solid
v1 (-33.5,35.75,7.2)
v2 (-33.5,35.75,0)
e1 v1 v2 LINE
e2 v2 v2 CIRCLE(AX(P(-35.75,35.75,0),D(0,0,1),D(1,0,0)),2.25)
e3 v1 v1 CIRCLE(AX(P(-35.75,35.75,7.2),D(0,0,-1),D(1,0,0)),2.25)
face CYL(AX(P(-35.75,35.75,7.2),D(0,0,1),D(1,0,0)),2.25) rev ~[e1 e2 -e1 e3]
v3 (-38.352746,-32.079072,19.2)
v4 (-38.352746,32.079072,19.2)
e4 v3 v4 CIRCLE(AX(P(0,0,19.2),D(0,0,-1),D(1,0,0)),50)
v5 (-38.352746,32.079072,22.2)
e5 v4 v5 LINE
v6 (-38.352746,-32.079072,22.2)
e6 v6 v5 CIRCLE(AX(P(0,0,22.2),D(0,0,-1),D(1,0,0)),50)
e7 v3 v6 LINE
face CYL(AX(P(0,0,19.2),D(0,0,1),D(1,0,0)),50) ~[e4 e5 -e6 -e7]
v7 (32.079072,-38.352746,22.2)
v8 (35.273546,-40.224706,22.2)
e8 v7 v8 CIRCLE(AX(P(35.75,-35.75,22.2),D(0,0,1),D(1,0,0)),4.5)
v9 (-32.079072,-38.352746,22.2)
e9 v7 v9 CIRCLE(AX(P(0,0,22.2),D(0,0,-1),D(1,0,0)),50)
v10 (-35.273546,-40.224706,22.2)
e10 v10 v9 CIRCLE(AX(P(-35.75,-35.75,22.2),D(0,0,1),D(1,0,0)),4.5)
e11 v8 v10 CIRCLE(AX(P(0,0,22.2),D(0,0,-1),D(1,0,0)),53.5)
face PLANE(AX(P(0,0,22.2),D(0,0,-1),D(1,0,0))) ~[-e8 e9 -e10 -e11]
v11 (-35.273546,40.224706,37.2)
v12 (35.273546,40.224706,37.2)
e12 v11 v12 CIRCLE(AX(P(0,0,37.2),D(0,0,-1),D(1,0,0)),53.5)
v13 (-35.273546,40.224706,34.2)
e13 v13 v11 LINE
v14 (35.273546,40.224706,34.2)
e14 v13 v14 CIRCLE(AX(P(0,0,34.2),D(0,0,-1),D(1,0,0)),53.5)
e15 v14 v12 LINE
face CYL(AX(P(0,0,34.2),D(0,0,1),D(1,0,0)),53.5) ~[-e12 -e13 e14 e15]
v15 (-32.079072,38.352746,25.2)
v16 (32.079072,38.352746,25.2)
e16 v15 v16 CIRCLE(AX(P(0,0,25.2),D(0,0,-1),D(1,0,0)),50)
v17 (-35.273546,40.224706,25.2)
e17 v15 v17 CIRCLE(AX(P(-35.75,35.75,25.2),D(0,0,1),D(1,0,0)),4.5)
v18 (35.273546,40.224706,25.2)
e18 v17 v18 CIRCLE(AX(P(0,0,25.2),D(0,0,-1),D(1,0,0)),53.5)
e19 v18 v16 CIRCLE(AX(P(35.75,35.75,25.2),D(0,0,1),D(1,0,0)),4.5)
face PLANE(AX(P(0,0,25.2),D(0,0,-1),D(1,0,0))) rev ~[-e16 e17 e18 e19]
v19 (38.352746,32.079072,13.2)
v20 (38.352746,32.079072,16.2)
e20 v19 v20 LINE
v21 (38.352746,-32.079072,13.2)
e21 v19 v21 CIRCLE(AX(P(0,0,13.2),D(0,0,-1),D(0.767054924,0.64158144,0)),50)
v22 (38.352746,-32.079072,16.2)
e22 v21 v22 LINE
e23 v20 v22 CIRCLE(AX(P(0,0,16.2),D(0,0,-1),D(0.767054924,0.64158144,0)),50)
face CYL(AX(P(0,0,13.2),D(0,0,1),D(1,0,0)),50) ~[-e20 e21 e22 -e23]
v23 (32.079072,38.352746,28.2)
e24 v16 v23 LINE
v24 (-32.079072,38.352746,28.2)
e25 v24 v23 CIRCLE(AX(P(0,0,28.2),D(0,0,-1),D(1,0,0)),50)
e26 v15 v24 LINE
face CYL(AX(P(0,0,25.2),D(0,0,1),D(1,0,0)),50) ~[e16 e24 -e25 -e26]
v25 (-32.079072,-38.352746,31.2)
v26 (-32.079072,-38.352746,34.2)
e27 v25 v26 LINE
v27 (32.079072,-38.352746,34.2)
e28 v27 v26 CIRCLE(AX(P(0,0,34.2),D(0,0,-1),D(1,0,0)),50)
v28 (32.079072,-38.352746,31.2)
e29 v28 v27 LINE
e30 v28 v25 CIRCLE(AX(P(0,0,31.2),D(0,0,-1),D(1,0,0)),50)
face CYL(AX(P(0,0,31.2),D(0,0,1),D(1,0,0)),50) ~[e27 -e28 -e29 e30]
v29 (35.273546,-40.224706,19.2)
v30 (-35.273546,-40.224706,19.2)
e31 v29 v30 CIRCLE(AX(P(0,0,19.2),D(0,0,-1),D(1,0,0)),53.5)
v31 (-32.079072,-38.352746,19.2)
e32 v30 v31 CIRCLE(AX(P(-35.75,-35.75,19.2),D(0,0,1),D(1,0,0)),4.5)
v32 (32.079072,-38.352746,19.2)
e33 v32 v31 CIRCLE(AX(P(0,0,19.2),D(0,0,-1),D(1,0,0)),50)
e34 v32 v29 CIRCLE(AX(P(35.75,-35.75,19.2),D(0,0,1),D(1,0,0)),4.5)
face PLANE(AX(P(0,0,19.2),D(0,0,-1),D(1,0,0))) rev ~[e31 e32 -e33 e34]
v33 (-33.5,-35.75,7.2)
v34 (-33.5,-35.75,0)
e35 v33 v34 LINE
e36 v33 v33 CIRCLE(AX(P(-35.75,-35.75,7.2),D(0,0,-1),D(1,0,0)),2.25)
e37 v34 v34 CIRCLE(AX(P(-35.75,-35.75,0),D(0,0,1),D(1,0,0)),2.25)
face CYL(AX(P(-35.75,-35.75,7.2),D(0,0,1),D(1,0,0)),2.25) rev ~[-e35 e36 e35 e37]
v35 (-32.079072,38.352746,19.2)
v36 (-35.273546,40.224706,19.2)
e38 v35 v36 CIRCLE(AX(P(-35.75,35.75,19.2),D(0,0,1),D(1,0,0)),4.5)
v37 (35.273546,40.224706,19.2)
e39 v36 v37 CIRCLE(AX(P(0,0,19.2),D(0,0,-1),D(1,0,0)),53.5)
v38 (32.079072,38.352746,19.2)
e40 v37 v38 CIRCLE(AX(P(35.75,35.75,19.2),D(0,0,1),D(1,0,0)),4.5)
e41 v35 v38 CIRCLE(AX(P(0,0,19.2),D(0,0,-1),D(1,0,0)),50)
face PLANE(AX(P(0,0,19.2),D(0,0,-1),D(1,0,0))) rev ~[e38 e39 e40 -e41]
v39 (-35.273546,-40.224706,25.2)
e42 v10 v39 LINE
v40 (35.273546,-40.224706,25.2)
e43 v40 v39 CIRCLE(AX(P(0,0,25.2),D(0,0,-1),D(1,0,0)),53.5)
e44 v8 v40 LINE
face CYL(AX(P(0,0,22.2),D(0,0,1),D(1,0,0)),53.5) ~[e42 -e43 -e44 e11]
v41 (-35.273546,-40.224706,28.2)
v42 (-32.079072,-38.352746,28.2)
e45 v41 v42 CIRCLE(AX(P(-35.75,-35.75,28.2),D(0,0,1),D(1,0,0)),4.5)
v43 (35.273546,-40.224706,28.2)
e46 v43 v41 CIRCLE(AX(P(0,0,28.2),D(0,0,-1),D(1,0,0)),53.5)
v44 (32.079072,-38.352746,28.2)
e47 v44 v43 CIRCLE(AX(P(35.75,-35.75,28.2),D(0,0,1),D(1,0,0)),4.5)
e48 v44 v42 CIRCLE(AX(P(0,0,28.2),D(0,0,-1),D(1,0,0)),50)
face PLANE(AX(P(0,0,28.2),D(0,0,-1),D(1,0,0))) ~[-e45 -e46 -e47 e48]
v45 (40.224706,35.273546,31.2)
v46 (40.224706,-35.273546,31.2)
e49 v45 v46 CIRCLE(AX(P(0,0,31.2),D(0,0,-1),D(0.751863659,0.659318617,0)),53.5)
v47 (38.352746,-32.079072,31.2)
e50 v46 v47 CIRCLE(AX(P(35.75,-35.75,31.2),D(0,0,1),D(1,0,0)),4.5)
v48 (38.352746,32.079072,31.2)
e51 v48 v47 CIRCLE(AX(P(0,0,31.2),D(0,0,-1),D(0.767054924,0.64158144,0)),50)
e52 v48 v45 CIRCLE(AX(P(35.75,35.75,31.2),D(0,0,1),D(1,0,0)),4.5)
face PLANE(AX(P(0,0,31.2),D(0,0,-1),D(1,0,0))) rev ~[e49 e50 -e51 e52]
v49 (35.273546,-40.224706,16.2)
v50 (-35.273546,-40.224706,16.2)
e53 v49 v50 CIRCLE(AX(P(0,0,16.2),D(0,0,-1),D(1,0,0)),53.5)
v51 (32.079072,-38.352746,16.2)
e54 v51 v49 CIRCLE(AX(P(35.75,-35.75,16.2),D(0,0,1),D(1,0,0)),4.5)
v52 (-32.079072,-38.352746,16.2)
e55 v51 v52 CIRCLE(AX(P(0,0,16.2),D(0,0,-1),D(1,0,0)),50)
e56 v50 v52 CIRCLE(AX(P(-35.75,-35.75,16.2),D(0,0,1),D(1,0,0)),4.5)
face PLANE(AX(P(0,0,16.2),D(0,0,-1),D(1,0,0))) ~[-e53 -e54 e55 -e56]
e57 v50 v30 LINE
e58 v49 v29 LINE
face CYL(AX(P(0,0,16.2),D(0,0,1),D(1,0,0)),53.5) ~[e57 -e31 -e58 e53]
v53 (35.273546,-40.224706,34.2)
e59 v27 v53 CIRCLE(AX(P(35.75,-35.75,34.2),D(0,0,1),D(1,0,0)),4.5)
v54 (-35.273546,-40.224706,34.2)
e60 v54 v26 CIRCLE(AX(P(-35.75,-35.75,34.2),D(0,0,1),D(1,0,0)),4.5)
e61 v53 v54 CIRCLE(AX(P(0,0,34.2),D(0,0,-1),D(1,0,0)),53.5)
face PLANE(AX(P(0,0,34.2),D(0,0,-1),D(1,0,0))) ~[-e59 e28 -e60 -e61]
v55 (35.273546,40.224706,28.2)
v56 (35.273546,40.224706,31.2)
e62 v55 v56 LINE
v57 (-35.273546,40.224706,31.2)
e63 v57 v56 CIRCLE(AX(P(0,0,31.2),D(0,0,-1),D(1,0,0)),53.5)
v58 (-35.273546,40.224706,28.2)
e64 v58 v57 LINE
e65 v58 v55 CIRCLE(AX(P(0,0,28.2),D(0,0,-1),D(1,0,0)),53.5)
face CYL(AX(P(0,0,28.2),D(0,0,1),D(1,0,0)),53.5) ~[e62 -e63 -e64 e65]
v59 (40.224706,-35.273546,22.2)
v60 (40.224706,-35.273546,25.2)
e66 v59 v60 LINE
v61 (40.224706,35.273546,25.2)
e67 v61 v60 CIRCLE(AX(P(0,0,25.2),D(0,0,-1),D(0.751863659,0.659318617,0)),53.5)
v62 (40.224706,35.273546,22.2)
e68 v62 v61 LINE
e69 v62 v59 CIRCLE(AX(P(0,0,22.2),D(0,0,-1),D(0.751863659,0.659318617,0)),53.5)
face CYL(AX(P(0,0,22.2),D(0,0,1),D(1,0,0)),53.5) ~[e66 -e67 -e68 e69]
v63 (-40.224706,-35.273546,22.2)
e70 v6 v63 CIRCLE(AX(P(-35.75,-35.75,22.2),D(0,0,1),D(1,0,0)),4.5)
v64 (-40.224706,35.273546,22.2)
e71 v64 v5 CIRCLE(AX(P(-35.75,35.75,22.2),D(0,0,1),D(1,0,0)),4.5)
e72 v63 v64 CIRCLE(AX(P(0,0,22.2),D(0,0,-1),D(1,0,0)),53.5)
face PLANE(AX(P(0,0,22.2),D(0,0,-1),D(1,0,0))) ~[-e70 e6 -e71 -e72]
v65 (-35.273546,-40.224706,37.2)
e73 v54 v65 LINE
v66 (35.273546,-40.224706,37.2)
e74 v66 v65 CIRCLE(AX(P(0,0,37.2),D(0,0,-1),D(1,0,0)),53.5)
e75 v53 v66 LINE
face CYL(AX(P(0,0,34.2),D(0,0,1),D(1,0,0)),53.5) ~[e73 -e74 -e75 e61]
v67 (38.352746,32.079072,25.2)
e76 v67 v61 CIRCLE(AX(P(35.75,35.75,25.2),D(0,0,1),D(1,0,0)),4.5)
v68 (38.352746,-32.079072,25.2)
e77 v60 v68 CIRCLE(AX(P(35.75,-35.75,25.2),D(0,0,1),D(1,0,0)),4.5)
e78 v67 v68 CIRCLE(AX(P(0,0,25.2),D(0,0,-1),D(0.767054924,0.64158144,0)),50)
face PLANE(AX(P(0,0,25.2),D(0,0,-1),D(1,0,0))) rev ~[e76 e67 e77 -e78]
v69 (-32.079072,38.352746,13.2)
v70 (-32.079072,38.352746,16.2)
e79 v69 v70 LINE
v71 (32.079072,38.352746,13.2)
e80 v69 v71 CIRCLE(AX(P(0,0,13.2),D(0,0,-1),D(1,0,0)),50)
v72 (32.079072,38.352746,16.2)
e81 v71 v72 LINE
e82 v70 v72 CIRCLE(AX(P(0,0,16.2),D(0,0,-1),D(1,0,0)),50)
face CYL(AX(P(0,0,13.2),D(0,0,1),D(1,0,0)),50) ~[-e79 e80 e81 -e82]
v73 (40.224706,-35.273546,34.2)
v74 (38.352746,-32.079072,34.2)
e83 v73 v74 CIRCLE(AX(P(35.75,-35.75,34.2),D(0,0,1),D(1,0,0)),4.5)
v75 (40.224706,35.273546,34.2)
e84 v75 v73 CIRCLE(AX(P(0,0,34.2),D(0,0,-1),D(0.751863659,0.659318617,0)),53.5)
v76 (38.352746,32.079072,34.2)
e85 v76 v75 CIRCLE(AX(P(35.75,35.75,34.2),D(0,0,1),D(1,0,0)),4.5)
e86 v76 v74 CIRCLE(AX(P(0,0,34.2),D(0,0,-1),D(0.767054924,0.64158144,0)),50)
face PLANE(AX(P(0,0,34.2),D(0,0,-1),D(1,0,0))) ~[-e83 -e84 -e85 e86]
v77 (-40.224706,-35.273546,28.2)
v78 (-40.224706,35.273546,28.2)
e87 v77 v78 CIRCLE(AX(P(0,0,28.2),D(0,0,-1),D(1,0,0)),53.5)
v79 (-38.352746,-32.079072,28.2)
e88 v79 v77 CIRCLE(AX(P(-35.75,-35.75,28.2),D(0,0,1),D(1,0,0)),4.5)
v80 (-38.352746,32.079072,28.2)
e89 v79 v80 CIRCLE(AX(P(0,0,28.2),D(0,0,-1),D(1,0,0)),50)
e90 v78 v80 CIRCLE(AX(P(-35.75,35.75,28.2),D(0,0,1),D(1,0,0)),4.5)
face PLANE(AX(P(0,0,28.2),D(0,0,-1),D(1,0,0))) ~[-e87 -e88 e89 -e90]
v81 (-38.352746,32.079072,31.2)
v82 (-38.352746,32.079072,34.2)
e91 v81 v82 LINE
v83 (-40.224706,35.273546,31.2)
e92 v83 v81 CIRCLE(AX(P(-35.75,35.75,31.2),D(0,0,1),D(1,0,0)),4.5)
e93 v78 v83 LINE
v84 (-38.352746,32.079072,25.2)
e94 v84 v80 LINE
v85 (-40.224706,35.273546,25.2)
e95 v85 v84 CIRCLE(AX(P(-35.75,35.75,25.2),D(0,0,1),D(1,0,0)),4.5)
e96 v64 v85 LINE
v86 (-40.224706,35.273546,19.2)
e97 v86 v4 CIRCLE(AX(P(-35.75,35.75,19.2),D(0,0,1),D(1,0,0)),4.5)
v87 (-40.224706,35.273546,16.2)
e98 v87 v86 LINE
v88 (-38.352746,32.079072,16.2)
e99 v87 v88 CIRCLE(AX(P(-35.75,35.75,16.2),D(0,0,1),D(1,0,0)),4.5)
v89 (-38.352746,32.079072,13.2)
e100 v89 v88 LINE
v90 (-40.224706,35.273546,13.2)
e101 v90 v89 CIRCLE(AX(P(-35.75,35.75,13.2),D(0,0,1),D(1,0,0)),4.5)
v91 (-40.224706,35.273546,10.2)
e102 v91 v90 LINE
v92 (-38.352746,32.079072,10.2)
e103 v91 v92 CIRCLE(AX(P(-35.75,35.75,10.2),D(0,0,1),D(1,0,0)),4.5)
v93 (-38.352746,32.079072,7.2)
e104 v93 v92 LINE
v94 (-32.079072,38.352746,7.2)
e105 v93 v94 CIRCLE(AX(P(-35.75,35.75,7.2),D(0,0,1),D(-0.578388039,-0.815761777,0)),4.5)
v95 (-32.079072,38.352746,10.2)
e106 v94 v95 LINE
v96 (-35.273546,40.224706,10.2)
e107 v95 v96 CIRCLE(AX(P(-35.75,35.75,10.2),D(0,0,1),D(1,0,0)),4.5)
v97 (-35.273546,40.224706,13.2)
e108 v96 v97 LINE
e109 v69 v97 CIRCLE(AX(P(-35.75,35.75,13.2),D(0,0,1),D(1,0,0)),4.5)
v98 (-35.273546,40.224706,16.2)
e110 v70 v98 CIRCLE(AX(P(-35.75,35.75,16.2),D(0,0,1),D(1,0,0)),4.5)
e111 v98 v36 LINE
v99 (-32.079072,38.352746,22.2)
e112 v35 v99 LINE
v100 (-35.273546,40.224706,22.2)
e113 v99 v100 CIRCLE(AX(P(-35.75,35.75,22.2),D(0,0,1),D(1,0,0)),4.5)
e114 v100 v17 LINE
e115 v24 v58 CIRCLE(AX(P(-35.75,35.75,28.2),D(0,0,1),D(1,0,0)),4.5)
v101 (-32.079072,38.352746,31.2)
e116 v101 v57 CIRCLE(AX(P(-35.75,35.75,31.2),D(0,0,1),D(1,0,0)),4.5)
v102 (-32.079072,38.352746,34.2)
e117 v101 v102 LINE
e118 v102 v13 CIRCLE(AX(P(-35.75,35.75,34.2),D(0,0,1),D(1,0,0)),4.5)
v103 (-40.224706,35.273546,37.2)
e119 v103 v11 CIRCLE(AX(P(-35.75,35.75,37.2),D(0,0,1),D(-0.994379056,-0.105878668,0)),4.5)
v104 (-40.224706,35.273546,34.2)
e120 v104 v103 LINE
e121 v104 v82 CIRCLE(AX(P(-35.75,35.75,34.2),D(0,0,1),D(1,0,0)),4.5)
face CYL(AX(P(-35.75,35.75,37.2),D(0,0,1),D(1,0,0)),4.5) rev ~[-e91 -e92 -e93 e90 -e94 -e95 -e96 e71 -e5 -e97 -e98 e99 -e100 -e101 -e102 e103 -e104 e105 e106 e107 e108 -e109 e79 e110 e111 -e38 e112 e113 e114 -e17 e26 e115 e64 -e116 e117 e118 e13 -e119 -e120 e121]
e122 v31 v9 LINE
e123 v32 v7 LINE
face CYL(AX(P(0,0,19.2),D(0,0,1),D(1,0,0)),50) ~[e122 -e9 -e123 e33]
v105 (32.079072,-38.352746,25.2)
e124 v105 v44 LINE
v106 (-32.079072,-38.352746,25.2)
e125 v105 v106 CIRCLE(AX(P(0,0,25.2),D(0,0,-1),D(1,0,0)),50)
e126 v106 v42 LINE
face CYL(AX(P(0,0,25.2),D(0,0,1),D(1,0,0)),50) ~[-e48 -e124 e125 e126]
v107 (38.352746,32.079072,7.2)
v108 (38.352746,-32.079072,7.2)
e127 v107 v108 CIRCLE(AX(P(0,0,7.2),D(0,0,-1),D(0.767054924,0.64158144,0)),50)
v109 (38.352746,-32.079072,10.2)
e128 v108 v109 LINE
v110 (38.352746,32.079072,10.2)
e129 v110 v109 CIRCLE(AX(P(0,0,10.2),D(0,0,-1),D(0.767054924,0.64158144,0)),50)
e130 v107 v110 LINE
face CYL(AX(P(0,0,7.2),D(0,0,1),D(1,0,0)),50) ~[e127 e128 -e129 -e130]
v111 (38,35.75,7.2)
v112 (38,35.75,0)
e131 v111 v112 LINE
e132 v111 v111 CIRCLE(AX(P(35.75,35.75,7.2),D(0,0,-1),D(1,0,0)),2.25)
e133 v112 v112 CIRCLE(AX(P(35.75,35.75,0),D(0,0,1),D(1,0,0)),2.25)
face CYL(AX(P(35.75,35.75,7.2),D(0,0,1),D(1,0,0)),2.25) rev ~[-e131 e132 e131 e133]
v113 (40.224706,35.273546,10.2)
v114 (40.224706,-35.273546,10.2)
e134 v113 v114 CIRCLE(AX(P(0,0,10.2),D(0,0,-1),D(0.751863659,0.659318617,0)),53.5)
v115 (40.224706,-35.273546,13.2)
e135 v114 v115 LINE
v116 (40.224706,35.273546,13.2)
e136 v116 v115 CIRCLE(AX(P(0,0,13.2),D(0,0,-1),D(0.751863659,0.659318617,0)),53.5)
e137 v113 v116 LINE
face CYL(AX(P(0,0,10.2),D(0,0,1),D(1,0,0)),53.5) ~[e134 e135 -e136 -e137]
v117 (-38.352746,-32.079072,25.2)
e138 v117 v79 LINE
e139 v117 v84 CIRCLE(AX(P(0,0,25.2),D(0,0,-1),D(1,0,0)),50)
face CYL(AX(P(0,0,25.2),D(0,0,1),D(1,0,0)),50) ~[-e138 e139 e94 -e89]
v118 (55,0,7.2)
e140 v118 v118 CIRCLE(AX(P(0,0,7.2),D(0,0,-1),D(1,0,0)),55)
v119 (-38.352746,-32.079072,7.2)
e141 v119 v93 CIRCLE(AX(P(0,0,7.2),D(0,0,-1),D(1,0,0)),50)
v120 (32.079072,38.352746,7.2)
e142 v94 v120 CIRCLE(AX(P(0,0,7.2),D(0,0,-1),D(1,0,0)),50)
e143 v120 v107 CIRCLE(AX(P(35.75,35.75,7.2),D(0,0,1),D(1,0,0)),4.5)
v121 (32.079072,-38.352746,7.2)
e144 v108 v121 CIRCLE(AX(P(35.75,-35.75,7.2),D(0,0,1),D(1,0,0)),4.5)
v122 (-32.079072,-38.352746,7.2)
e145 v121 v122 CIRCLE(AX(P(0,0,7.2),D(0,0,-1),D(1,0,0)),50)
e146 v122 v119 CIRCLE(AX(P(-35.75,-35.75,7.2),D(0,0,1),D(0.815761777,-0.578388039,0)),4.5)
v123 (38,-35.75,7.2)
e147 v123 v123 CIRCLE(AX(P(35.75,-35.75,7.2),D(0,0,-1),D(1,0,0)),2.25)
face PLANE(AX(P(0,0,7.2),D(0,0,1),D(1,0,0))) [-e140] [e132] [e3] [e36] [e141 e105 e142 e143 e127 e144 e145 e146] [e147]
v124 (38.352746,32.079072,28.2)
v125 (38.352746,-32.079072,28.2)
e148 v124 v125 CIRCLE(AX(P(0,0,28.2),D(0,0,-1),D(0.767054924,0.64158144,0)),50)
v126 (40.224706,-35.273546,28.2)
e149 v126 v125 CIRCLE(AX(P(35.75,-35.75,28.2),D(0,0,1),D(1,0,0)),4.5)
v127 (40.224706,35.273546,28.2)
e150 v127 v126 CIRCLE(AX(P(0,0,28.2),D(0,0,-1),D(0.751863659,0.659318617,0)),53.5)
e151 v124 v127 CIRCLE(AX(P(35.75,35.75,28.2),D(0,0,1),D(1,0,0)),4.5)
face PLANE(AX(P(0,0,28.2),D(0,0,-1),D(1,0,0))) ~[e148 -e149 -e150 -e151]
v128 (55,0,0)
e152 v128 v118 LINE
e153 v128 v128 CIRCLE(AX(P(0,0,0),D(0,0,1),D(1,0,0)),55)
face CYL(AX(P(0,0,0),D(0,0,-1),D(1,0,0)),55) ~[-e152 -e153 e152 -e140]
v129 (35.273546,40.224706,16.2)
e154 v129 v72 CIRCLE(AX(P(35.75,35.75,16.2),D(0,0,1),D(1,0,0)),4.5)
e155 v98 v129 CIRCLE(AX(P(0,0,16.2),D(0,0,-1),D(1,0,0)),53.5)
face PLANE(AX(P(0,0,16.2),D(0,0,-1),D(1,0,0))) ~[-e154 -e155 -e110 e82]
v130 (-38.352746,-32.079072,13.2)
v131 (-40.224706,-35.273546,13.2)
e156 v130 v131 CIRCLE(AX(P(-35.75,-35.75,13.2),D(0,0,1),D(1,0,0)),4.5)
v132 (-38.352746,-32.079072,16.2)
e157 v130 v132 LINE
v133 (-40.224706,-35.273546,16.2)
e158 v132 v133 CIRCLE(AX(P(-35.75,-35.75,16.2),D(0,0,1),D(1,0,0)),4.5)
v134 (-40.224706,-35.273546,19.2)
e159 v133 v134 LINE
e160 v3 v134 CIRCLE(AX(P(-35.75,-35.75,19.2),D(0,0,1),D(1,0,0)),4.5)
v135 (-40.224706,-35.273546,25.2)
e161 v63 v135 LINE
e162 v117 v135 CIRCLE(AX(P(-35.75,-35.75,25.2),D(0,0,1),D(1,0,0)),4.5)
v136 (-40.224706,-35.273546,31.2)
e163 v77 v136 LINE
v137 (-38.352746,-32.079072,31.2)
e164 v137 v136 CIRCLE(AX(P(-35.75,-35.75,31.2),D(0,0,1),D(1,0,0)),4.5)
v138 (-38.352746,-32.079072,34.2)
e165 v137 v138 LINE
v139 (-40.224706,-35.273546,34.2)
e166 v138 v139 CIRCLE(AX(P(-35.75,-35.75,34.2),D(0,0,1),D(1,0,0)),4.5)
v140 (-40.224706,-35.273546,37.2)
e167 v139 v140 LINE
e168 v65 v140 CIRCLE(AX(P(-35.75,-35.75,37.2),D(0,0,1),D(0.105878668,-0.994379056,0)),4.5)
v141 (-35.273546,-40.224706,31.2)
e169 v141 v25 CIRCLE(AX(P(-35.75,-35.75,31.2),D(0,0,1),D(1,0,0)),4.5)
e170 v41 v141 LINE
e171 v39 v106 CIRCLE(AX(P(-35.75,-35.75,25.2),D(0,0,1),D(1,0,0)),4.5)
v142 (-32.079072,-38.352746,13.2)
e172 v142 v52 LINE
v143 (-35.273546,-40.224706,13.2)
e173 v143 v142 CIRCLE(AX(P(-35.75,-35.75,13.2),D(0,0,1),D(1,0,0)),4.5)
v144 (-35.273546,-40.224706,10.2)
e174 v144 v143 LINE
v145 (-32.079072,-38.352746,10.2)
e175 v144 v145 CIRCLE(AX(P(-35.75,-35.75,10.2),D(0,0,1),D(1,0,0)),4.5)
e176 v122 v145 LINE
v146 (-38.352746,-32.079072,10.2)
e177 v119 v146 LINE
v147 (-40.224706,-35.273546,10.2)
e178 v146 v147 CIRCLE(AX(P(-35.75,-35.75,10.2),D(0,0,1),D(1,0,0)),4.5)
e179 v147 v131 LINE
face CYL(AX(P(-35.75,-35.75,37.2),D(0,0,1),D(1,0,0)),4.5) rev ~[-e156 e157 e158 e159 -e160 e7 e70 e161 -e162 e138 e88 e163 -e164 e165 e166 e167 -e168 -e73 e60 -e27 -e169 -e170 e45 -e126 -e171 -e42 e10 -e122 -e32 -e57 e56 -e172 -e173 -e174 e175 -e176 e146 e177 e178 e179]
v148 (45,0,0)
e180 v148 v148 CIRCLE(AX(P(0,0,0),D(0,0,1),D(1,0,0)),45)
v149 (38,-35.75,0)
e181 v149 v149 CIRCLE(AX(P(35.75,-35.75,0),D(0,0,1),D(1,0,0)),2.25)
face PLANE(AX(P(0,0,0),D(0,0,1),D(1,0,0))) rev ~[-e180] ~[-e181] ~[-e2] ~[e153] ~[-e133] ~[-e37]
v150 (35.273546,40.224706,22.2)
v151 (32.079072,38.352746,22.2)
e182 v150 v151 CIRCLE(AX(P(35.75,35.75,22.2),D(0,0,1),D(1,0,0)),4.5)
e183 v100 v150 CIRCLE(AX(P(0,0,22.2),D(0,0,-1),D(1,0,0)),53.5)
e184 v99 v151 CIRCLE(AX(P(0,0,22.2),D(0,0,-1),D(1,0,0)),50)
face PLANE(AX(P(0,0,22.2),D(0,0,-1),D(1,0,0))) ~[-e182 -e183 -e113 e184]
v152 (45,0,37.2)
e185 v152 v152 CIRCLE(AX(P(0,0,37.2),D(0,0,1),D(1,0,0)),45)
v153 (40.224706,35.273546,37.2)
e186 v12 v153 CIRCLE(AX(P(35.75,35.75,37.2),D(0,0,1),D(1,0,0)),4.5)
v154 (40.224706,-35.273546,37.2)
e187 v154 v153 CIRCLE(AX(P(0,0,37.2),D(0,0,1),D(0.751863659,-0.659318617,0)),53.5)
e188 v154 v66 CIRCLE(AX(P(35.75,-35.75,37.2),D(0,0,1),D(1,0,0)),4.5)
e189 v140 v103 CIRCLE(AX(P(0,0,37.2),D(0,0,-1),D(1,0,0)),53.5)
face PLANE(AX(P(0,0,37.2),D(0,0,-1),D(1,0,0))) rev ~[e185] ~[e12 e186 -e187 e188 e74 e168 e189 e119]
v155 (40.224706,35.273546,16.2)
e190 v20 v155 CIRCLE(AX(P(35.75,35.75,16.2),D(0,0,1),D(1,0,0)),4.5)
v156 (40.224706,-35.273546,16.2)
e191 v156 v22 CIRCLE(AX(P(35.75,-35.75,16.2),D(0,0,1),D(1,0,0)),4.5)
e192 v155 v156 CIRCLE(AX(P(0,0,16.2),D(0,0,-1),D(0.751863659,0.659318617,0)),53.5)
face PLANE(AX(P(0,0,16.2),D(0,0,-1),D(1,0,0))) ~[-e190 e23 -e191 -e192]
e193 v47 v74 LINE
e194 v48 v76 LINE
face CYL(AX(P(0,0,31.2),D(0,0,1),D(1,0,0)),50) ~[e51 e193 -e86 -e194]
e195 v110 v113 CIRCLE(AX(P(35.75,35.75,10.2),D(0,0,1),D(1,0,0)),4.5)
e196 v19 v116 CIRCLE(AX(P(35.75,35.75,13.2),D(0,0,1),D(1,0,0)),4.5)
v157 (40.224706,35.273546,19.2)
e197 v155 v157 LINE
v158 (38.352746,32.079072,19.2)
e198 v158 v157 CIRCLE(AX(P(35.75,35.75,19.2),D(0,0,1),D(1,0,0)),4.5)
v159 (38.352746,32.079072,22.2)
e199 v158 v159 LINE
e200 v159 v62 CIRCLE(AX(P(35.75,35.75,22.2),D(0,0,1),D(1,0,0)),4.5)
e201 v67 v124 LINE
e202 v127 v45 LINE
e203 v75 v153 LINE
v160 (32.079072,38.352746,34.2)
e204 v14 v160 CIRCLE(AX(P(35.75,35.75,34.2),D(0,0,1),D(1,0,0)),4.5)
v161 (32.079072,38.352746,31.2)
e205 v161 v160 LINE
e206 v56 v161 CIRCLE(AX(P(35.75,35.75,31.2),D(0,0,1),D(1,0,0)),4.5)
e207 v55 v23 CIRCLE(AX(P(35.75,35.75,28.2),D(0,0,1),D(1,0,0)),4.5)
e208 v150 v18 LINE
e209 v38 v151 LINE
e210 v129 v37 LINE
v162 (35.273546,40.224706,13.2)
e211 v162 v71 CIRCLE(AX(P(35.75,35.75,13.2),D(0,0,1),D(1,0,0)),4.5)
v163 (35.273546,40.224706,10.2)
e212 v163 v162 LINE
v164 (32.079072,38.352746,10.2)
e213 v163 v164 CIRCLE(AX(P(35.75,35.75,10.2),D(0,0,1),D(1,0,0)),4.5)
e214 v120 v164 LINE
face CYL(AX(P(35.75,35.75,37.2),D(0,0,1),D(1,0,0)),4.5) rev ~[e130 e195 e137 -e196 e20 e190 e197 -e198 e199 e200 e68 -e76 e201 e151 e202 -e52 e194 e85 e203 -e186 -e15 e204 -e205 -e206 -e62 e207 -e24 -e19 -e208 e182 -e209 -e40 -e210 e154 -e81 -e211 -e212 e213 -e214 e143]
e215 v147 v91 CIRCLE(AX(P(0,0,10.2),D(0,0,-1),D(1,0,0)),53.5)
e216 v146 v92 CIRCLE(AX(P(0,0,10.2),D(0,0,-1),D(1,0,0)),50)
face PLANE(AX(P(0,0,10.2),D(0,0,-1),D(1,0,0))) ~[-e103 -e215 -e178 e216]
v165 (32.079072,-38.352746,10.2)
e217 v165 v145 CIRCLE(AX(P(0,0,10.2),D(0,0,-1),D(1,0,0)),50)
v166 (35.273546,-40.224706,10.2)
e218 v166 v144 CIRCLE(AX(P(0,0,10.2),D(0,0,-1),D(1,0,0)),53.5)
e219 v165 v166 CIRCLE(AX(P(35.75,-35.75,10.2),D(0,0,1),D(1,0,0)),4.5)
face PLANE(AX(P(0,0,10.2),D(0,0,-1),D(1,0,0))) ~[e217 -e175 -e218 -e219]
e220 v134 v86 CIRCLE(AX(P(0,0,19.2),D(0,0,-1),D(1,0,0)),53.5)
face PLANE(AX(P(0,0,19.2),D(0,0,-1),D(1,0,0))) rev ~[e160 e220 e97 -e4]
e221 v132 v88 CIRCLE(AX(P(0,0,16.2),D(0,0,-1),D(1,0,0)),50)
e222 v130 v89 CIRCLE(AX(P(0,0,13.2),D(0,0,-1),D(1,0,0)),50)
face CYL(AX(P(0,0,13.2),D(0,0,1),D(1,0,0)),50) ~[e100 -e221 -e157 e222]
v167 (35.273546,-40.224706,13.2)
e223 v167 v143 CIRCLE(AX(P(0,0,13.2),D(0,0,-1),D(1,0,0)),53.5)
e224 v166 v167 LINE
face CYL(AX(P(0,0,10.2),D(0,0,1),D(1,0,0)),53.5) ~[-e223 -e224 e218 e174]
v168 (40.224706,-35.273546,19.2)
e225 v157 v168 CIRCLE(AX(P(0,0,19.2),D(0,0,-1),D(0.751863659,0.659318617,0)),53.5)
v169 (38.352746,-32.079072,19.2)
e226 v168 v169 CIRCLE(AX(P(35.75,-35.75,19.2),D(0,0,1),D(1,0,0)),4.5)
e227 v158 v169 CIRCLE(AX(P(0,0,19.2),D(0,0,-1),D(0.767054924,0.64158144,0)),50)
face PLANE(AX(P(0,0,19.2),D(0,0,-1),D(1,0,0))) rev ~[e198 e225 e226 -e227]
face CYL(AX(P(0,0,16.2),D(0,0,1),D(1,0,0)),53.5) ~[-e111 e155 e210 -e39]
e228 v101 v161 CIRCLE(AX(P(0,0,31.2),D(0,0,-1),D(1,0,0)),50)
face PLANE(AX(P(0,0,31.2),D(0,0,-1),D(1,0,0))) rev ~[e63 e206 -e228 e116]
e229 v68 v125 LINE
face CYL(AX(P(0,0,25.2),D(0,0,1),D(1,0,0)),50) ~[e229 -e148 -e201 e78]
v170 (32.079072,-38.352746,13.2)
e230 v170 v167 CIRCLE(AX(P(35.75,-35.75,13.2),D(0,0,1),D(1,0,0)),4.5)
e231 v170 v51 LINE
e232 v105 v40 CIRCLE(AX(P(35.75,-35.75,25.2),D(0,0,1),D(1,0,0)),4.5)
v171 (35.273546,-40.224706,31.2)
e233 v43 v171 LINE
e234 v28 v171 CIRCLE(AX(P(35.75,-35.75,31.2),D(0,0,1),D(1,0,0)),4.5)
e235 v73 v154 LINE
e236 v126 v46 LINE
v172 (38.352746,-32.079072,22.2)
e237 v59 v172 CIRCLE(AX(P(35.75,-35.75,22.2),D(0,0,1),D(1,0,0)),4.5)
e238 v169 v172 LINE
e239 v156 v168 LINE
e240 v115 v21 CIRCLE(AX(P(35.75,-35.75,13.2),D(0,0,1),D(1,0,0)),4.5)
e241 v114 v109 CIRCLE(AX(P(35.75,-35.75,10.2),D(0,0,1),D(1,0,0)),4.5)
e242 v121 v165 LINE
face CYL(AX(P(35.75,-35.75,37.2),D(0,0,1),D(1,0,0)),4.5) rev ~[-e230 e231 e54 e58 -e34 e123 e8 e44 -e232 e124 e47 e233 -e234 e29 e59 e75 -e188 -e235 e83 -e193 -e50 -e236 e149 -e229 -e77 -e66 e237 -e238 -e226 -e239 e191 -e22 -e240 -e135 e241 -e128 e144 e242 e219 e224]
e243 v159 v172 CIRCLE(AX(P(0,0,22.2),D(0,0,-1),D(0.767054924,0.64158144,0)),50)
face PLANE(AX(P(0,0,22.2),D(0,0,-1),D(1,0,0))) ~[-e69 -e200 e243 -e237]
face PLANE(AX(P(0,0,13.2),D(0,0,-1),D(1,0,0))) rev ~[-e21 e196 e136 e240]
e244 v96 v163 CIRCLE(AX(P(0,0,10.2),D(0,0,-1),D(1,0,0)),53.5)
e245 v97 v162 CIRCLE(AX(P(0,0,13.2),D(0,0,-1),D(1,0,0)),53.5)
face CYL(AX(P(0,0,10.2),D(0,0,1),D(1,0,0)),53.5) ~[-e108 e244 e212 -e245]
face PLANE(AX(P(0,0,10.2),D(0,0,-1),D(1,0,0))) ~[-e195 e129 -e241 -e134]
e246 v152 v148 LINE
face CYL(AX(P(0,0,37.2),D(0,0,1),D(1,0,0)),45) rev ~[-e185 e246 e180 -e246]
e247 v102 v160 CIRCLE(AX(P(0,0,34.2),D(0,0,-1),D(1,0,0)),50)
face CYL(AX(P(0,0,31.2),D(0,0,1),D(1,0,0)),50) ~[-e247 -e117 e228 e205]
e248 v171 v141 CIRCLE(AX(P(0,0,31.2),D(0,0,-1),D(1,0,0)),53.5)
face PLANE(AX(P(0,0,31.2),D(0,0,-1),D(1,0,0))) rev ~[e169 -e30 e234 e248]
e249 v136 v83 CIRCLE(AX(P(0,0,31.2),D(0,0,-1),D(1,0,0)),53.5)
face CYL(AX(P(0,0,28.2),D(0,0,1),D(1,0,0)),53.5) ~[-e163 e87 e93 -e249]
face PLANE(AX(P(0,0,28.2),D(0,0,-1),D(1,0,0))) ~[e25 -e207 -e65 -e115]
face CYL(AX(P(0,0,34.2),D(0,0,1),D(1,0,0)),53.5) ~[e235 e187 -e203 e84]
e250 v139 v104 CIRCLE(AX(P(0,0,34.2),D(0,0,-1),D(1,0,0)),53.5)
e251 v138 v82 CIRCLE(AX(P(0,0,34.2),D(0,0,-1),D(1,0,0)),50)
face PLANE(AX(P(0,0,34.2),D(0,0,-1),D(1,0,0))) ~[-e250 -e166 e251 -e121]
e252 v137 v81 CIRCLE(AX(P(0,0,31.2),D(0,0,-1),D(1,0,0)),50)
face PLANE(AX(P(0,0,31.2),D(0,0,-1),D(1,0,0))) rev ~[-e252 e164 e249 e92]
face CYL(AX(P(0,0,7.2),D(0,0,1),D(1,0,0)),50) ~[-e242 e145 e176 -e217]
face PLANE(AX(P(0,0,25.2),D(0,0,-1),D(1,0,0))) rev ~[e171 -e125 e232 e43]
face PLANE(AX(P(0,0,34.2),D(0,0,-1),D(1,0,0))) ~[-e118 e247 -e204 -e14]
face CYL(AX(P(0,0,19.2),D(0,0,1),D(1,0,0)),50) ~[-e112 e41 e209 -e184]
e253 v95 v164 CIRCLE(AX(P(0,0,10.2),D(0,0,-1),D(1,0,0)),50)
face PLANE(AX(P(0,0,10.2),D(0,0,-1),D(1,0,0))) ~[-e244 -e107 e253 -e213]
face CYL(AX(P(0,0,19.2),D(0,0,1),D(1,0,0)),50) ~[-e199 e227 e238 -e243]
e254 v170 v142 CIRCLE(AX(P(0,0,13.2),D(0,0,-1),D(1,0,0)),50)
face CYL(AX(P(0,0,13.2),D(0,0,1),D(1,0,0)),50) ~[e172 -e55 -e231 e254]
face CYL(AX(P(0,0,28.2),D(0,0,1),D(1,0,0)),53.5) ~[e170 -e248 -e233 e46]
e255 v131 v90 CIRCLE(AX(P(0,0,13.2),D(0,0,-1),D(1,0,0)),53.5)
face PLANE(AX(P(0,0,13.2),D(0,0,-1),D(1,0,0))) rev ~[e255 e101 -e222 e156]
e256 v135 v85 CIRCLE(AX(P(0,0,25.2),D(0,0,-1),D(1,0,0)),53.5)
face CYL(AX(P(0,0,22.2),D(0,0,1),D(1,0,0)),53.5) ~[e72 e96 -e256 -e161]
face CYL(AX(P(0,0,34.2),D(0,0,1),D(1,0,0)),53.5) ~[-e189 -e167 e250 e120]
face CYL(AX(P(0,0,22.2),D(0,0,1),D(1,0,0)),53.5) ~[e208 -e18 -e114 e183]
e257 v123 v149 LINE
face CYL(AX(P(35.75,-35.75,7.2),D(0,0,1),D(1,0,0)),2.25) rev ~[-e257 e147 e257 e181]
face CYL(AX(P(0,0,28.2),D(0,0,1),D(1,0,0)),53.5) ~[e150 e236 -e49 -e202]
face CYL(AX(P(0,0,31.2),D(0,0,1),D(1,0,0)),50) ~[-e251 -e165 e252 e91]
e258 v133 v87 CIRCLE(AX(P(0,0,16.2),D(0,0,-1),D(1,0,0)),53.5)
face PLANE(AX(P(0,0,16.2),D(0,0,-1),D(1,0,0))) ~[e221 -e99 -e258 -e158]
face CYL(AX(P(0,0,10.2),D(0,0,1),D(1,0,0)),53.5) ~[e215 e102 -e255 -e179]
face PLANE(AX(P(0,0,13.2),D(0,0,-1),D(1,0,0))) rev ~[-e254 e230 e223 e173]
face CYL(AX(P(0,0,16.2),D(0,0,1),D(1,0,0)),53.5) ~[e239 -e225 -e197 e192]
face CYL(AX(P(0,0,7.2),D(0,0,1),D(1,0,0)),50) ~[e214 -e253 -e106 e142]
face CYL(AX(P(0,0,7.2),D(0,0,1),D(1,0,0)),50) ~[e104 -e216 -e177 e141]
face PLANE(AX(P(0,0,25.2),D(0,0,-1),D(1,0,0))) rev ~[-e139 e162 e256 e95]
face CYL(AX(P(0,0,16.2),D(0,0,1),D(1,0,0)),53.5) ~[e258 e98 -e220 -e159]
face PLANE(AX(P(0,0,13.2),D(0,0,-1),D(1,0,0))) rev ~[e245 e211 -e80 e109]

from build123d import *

# Parameters (mm, degrees)
F0_R     = 55
F1_DEPTH = 7.2
F2_R     = 2.25
F5_DEPTH = 7.2
F6_R     = 4.5
F7_DEPTH = 30
F8_R     = 45
F9_DEPTH = 37.201


with BuildPart() as f1:
    # F0 (on Top) → F1 (new body)
    with BuildSketch(Plane.XY):
        Circle(F0_R)
    extrude(amount=F1_DEPTH)

    # F3 (on Front) → F4 (revolve)
    with BuildSketch(Plane.XZ):
        Polygon((0, 37.2), (0, 7.2), (50, 7.2), (50, 10.2), (53.5, 10.2), (53.5, 13.2), (50, 13.2), (50, 16.2), (53.5, 16.2), (53.5, 19.2), (50, 19.2), (50, 22.2), (53.5, 22.2), (53.5, 25.2), (50, 25.2), (50, 28.2), (53.5, 28.2), (53.5, 31.2), (50, 31.2), (50, 34.2), (53.5, 34.2), (53.5, 37.2), align=None)
    revolve(axis=Axis((0, 0, 22.2), (0, 0, -1)))

    # F2 (on face) → F5 (cut, through all)
    with BuildSketch(Plane.XY.offset(7.2)):
        with Locations((-35.75, 35.75)):
            Circle(F2_R)
        with Locations((-35.75, -35.75)):
            Circle(F2_R)
        with Locations((35.75, -35.75)):
            Circle(F2_R)
        with Locations((35.75, 35.75)):
            Circle(F2_R)
    extrude(amount=-F5_DEPTH, mode=Mode.SUBTRACT)

    # F6 (on face) → F7 (cut, through all)
    with BuildSketch(Plane.XY.offset(37.2)):
        with Locations((-35.75, 35.75)):
            Circle(F6_R)
        with Locations((-35.75, -35.75)):
            Circle(F6_R)
        with Locations((35.75, -35.75)):
            Circle(F6_R)
        with Locations((35.75, 35.75)):
            Circle(F6_R)
    extrude(amount=-F7_DEPTH, mode=Mode.SUBTRACT)

    # F8 (on face) → F9 (cut, through all)
    with BuildSketch(Plane.XY.offset(37.2)):
        Circle(F8_R)
    extrude(amount=-F9_DEPTH, mode=Mode.SUBTRACT)


solid = f1.part
